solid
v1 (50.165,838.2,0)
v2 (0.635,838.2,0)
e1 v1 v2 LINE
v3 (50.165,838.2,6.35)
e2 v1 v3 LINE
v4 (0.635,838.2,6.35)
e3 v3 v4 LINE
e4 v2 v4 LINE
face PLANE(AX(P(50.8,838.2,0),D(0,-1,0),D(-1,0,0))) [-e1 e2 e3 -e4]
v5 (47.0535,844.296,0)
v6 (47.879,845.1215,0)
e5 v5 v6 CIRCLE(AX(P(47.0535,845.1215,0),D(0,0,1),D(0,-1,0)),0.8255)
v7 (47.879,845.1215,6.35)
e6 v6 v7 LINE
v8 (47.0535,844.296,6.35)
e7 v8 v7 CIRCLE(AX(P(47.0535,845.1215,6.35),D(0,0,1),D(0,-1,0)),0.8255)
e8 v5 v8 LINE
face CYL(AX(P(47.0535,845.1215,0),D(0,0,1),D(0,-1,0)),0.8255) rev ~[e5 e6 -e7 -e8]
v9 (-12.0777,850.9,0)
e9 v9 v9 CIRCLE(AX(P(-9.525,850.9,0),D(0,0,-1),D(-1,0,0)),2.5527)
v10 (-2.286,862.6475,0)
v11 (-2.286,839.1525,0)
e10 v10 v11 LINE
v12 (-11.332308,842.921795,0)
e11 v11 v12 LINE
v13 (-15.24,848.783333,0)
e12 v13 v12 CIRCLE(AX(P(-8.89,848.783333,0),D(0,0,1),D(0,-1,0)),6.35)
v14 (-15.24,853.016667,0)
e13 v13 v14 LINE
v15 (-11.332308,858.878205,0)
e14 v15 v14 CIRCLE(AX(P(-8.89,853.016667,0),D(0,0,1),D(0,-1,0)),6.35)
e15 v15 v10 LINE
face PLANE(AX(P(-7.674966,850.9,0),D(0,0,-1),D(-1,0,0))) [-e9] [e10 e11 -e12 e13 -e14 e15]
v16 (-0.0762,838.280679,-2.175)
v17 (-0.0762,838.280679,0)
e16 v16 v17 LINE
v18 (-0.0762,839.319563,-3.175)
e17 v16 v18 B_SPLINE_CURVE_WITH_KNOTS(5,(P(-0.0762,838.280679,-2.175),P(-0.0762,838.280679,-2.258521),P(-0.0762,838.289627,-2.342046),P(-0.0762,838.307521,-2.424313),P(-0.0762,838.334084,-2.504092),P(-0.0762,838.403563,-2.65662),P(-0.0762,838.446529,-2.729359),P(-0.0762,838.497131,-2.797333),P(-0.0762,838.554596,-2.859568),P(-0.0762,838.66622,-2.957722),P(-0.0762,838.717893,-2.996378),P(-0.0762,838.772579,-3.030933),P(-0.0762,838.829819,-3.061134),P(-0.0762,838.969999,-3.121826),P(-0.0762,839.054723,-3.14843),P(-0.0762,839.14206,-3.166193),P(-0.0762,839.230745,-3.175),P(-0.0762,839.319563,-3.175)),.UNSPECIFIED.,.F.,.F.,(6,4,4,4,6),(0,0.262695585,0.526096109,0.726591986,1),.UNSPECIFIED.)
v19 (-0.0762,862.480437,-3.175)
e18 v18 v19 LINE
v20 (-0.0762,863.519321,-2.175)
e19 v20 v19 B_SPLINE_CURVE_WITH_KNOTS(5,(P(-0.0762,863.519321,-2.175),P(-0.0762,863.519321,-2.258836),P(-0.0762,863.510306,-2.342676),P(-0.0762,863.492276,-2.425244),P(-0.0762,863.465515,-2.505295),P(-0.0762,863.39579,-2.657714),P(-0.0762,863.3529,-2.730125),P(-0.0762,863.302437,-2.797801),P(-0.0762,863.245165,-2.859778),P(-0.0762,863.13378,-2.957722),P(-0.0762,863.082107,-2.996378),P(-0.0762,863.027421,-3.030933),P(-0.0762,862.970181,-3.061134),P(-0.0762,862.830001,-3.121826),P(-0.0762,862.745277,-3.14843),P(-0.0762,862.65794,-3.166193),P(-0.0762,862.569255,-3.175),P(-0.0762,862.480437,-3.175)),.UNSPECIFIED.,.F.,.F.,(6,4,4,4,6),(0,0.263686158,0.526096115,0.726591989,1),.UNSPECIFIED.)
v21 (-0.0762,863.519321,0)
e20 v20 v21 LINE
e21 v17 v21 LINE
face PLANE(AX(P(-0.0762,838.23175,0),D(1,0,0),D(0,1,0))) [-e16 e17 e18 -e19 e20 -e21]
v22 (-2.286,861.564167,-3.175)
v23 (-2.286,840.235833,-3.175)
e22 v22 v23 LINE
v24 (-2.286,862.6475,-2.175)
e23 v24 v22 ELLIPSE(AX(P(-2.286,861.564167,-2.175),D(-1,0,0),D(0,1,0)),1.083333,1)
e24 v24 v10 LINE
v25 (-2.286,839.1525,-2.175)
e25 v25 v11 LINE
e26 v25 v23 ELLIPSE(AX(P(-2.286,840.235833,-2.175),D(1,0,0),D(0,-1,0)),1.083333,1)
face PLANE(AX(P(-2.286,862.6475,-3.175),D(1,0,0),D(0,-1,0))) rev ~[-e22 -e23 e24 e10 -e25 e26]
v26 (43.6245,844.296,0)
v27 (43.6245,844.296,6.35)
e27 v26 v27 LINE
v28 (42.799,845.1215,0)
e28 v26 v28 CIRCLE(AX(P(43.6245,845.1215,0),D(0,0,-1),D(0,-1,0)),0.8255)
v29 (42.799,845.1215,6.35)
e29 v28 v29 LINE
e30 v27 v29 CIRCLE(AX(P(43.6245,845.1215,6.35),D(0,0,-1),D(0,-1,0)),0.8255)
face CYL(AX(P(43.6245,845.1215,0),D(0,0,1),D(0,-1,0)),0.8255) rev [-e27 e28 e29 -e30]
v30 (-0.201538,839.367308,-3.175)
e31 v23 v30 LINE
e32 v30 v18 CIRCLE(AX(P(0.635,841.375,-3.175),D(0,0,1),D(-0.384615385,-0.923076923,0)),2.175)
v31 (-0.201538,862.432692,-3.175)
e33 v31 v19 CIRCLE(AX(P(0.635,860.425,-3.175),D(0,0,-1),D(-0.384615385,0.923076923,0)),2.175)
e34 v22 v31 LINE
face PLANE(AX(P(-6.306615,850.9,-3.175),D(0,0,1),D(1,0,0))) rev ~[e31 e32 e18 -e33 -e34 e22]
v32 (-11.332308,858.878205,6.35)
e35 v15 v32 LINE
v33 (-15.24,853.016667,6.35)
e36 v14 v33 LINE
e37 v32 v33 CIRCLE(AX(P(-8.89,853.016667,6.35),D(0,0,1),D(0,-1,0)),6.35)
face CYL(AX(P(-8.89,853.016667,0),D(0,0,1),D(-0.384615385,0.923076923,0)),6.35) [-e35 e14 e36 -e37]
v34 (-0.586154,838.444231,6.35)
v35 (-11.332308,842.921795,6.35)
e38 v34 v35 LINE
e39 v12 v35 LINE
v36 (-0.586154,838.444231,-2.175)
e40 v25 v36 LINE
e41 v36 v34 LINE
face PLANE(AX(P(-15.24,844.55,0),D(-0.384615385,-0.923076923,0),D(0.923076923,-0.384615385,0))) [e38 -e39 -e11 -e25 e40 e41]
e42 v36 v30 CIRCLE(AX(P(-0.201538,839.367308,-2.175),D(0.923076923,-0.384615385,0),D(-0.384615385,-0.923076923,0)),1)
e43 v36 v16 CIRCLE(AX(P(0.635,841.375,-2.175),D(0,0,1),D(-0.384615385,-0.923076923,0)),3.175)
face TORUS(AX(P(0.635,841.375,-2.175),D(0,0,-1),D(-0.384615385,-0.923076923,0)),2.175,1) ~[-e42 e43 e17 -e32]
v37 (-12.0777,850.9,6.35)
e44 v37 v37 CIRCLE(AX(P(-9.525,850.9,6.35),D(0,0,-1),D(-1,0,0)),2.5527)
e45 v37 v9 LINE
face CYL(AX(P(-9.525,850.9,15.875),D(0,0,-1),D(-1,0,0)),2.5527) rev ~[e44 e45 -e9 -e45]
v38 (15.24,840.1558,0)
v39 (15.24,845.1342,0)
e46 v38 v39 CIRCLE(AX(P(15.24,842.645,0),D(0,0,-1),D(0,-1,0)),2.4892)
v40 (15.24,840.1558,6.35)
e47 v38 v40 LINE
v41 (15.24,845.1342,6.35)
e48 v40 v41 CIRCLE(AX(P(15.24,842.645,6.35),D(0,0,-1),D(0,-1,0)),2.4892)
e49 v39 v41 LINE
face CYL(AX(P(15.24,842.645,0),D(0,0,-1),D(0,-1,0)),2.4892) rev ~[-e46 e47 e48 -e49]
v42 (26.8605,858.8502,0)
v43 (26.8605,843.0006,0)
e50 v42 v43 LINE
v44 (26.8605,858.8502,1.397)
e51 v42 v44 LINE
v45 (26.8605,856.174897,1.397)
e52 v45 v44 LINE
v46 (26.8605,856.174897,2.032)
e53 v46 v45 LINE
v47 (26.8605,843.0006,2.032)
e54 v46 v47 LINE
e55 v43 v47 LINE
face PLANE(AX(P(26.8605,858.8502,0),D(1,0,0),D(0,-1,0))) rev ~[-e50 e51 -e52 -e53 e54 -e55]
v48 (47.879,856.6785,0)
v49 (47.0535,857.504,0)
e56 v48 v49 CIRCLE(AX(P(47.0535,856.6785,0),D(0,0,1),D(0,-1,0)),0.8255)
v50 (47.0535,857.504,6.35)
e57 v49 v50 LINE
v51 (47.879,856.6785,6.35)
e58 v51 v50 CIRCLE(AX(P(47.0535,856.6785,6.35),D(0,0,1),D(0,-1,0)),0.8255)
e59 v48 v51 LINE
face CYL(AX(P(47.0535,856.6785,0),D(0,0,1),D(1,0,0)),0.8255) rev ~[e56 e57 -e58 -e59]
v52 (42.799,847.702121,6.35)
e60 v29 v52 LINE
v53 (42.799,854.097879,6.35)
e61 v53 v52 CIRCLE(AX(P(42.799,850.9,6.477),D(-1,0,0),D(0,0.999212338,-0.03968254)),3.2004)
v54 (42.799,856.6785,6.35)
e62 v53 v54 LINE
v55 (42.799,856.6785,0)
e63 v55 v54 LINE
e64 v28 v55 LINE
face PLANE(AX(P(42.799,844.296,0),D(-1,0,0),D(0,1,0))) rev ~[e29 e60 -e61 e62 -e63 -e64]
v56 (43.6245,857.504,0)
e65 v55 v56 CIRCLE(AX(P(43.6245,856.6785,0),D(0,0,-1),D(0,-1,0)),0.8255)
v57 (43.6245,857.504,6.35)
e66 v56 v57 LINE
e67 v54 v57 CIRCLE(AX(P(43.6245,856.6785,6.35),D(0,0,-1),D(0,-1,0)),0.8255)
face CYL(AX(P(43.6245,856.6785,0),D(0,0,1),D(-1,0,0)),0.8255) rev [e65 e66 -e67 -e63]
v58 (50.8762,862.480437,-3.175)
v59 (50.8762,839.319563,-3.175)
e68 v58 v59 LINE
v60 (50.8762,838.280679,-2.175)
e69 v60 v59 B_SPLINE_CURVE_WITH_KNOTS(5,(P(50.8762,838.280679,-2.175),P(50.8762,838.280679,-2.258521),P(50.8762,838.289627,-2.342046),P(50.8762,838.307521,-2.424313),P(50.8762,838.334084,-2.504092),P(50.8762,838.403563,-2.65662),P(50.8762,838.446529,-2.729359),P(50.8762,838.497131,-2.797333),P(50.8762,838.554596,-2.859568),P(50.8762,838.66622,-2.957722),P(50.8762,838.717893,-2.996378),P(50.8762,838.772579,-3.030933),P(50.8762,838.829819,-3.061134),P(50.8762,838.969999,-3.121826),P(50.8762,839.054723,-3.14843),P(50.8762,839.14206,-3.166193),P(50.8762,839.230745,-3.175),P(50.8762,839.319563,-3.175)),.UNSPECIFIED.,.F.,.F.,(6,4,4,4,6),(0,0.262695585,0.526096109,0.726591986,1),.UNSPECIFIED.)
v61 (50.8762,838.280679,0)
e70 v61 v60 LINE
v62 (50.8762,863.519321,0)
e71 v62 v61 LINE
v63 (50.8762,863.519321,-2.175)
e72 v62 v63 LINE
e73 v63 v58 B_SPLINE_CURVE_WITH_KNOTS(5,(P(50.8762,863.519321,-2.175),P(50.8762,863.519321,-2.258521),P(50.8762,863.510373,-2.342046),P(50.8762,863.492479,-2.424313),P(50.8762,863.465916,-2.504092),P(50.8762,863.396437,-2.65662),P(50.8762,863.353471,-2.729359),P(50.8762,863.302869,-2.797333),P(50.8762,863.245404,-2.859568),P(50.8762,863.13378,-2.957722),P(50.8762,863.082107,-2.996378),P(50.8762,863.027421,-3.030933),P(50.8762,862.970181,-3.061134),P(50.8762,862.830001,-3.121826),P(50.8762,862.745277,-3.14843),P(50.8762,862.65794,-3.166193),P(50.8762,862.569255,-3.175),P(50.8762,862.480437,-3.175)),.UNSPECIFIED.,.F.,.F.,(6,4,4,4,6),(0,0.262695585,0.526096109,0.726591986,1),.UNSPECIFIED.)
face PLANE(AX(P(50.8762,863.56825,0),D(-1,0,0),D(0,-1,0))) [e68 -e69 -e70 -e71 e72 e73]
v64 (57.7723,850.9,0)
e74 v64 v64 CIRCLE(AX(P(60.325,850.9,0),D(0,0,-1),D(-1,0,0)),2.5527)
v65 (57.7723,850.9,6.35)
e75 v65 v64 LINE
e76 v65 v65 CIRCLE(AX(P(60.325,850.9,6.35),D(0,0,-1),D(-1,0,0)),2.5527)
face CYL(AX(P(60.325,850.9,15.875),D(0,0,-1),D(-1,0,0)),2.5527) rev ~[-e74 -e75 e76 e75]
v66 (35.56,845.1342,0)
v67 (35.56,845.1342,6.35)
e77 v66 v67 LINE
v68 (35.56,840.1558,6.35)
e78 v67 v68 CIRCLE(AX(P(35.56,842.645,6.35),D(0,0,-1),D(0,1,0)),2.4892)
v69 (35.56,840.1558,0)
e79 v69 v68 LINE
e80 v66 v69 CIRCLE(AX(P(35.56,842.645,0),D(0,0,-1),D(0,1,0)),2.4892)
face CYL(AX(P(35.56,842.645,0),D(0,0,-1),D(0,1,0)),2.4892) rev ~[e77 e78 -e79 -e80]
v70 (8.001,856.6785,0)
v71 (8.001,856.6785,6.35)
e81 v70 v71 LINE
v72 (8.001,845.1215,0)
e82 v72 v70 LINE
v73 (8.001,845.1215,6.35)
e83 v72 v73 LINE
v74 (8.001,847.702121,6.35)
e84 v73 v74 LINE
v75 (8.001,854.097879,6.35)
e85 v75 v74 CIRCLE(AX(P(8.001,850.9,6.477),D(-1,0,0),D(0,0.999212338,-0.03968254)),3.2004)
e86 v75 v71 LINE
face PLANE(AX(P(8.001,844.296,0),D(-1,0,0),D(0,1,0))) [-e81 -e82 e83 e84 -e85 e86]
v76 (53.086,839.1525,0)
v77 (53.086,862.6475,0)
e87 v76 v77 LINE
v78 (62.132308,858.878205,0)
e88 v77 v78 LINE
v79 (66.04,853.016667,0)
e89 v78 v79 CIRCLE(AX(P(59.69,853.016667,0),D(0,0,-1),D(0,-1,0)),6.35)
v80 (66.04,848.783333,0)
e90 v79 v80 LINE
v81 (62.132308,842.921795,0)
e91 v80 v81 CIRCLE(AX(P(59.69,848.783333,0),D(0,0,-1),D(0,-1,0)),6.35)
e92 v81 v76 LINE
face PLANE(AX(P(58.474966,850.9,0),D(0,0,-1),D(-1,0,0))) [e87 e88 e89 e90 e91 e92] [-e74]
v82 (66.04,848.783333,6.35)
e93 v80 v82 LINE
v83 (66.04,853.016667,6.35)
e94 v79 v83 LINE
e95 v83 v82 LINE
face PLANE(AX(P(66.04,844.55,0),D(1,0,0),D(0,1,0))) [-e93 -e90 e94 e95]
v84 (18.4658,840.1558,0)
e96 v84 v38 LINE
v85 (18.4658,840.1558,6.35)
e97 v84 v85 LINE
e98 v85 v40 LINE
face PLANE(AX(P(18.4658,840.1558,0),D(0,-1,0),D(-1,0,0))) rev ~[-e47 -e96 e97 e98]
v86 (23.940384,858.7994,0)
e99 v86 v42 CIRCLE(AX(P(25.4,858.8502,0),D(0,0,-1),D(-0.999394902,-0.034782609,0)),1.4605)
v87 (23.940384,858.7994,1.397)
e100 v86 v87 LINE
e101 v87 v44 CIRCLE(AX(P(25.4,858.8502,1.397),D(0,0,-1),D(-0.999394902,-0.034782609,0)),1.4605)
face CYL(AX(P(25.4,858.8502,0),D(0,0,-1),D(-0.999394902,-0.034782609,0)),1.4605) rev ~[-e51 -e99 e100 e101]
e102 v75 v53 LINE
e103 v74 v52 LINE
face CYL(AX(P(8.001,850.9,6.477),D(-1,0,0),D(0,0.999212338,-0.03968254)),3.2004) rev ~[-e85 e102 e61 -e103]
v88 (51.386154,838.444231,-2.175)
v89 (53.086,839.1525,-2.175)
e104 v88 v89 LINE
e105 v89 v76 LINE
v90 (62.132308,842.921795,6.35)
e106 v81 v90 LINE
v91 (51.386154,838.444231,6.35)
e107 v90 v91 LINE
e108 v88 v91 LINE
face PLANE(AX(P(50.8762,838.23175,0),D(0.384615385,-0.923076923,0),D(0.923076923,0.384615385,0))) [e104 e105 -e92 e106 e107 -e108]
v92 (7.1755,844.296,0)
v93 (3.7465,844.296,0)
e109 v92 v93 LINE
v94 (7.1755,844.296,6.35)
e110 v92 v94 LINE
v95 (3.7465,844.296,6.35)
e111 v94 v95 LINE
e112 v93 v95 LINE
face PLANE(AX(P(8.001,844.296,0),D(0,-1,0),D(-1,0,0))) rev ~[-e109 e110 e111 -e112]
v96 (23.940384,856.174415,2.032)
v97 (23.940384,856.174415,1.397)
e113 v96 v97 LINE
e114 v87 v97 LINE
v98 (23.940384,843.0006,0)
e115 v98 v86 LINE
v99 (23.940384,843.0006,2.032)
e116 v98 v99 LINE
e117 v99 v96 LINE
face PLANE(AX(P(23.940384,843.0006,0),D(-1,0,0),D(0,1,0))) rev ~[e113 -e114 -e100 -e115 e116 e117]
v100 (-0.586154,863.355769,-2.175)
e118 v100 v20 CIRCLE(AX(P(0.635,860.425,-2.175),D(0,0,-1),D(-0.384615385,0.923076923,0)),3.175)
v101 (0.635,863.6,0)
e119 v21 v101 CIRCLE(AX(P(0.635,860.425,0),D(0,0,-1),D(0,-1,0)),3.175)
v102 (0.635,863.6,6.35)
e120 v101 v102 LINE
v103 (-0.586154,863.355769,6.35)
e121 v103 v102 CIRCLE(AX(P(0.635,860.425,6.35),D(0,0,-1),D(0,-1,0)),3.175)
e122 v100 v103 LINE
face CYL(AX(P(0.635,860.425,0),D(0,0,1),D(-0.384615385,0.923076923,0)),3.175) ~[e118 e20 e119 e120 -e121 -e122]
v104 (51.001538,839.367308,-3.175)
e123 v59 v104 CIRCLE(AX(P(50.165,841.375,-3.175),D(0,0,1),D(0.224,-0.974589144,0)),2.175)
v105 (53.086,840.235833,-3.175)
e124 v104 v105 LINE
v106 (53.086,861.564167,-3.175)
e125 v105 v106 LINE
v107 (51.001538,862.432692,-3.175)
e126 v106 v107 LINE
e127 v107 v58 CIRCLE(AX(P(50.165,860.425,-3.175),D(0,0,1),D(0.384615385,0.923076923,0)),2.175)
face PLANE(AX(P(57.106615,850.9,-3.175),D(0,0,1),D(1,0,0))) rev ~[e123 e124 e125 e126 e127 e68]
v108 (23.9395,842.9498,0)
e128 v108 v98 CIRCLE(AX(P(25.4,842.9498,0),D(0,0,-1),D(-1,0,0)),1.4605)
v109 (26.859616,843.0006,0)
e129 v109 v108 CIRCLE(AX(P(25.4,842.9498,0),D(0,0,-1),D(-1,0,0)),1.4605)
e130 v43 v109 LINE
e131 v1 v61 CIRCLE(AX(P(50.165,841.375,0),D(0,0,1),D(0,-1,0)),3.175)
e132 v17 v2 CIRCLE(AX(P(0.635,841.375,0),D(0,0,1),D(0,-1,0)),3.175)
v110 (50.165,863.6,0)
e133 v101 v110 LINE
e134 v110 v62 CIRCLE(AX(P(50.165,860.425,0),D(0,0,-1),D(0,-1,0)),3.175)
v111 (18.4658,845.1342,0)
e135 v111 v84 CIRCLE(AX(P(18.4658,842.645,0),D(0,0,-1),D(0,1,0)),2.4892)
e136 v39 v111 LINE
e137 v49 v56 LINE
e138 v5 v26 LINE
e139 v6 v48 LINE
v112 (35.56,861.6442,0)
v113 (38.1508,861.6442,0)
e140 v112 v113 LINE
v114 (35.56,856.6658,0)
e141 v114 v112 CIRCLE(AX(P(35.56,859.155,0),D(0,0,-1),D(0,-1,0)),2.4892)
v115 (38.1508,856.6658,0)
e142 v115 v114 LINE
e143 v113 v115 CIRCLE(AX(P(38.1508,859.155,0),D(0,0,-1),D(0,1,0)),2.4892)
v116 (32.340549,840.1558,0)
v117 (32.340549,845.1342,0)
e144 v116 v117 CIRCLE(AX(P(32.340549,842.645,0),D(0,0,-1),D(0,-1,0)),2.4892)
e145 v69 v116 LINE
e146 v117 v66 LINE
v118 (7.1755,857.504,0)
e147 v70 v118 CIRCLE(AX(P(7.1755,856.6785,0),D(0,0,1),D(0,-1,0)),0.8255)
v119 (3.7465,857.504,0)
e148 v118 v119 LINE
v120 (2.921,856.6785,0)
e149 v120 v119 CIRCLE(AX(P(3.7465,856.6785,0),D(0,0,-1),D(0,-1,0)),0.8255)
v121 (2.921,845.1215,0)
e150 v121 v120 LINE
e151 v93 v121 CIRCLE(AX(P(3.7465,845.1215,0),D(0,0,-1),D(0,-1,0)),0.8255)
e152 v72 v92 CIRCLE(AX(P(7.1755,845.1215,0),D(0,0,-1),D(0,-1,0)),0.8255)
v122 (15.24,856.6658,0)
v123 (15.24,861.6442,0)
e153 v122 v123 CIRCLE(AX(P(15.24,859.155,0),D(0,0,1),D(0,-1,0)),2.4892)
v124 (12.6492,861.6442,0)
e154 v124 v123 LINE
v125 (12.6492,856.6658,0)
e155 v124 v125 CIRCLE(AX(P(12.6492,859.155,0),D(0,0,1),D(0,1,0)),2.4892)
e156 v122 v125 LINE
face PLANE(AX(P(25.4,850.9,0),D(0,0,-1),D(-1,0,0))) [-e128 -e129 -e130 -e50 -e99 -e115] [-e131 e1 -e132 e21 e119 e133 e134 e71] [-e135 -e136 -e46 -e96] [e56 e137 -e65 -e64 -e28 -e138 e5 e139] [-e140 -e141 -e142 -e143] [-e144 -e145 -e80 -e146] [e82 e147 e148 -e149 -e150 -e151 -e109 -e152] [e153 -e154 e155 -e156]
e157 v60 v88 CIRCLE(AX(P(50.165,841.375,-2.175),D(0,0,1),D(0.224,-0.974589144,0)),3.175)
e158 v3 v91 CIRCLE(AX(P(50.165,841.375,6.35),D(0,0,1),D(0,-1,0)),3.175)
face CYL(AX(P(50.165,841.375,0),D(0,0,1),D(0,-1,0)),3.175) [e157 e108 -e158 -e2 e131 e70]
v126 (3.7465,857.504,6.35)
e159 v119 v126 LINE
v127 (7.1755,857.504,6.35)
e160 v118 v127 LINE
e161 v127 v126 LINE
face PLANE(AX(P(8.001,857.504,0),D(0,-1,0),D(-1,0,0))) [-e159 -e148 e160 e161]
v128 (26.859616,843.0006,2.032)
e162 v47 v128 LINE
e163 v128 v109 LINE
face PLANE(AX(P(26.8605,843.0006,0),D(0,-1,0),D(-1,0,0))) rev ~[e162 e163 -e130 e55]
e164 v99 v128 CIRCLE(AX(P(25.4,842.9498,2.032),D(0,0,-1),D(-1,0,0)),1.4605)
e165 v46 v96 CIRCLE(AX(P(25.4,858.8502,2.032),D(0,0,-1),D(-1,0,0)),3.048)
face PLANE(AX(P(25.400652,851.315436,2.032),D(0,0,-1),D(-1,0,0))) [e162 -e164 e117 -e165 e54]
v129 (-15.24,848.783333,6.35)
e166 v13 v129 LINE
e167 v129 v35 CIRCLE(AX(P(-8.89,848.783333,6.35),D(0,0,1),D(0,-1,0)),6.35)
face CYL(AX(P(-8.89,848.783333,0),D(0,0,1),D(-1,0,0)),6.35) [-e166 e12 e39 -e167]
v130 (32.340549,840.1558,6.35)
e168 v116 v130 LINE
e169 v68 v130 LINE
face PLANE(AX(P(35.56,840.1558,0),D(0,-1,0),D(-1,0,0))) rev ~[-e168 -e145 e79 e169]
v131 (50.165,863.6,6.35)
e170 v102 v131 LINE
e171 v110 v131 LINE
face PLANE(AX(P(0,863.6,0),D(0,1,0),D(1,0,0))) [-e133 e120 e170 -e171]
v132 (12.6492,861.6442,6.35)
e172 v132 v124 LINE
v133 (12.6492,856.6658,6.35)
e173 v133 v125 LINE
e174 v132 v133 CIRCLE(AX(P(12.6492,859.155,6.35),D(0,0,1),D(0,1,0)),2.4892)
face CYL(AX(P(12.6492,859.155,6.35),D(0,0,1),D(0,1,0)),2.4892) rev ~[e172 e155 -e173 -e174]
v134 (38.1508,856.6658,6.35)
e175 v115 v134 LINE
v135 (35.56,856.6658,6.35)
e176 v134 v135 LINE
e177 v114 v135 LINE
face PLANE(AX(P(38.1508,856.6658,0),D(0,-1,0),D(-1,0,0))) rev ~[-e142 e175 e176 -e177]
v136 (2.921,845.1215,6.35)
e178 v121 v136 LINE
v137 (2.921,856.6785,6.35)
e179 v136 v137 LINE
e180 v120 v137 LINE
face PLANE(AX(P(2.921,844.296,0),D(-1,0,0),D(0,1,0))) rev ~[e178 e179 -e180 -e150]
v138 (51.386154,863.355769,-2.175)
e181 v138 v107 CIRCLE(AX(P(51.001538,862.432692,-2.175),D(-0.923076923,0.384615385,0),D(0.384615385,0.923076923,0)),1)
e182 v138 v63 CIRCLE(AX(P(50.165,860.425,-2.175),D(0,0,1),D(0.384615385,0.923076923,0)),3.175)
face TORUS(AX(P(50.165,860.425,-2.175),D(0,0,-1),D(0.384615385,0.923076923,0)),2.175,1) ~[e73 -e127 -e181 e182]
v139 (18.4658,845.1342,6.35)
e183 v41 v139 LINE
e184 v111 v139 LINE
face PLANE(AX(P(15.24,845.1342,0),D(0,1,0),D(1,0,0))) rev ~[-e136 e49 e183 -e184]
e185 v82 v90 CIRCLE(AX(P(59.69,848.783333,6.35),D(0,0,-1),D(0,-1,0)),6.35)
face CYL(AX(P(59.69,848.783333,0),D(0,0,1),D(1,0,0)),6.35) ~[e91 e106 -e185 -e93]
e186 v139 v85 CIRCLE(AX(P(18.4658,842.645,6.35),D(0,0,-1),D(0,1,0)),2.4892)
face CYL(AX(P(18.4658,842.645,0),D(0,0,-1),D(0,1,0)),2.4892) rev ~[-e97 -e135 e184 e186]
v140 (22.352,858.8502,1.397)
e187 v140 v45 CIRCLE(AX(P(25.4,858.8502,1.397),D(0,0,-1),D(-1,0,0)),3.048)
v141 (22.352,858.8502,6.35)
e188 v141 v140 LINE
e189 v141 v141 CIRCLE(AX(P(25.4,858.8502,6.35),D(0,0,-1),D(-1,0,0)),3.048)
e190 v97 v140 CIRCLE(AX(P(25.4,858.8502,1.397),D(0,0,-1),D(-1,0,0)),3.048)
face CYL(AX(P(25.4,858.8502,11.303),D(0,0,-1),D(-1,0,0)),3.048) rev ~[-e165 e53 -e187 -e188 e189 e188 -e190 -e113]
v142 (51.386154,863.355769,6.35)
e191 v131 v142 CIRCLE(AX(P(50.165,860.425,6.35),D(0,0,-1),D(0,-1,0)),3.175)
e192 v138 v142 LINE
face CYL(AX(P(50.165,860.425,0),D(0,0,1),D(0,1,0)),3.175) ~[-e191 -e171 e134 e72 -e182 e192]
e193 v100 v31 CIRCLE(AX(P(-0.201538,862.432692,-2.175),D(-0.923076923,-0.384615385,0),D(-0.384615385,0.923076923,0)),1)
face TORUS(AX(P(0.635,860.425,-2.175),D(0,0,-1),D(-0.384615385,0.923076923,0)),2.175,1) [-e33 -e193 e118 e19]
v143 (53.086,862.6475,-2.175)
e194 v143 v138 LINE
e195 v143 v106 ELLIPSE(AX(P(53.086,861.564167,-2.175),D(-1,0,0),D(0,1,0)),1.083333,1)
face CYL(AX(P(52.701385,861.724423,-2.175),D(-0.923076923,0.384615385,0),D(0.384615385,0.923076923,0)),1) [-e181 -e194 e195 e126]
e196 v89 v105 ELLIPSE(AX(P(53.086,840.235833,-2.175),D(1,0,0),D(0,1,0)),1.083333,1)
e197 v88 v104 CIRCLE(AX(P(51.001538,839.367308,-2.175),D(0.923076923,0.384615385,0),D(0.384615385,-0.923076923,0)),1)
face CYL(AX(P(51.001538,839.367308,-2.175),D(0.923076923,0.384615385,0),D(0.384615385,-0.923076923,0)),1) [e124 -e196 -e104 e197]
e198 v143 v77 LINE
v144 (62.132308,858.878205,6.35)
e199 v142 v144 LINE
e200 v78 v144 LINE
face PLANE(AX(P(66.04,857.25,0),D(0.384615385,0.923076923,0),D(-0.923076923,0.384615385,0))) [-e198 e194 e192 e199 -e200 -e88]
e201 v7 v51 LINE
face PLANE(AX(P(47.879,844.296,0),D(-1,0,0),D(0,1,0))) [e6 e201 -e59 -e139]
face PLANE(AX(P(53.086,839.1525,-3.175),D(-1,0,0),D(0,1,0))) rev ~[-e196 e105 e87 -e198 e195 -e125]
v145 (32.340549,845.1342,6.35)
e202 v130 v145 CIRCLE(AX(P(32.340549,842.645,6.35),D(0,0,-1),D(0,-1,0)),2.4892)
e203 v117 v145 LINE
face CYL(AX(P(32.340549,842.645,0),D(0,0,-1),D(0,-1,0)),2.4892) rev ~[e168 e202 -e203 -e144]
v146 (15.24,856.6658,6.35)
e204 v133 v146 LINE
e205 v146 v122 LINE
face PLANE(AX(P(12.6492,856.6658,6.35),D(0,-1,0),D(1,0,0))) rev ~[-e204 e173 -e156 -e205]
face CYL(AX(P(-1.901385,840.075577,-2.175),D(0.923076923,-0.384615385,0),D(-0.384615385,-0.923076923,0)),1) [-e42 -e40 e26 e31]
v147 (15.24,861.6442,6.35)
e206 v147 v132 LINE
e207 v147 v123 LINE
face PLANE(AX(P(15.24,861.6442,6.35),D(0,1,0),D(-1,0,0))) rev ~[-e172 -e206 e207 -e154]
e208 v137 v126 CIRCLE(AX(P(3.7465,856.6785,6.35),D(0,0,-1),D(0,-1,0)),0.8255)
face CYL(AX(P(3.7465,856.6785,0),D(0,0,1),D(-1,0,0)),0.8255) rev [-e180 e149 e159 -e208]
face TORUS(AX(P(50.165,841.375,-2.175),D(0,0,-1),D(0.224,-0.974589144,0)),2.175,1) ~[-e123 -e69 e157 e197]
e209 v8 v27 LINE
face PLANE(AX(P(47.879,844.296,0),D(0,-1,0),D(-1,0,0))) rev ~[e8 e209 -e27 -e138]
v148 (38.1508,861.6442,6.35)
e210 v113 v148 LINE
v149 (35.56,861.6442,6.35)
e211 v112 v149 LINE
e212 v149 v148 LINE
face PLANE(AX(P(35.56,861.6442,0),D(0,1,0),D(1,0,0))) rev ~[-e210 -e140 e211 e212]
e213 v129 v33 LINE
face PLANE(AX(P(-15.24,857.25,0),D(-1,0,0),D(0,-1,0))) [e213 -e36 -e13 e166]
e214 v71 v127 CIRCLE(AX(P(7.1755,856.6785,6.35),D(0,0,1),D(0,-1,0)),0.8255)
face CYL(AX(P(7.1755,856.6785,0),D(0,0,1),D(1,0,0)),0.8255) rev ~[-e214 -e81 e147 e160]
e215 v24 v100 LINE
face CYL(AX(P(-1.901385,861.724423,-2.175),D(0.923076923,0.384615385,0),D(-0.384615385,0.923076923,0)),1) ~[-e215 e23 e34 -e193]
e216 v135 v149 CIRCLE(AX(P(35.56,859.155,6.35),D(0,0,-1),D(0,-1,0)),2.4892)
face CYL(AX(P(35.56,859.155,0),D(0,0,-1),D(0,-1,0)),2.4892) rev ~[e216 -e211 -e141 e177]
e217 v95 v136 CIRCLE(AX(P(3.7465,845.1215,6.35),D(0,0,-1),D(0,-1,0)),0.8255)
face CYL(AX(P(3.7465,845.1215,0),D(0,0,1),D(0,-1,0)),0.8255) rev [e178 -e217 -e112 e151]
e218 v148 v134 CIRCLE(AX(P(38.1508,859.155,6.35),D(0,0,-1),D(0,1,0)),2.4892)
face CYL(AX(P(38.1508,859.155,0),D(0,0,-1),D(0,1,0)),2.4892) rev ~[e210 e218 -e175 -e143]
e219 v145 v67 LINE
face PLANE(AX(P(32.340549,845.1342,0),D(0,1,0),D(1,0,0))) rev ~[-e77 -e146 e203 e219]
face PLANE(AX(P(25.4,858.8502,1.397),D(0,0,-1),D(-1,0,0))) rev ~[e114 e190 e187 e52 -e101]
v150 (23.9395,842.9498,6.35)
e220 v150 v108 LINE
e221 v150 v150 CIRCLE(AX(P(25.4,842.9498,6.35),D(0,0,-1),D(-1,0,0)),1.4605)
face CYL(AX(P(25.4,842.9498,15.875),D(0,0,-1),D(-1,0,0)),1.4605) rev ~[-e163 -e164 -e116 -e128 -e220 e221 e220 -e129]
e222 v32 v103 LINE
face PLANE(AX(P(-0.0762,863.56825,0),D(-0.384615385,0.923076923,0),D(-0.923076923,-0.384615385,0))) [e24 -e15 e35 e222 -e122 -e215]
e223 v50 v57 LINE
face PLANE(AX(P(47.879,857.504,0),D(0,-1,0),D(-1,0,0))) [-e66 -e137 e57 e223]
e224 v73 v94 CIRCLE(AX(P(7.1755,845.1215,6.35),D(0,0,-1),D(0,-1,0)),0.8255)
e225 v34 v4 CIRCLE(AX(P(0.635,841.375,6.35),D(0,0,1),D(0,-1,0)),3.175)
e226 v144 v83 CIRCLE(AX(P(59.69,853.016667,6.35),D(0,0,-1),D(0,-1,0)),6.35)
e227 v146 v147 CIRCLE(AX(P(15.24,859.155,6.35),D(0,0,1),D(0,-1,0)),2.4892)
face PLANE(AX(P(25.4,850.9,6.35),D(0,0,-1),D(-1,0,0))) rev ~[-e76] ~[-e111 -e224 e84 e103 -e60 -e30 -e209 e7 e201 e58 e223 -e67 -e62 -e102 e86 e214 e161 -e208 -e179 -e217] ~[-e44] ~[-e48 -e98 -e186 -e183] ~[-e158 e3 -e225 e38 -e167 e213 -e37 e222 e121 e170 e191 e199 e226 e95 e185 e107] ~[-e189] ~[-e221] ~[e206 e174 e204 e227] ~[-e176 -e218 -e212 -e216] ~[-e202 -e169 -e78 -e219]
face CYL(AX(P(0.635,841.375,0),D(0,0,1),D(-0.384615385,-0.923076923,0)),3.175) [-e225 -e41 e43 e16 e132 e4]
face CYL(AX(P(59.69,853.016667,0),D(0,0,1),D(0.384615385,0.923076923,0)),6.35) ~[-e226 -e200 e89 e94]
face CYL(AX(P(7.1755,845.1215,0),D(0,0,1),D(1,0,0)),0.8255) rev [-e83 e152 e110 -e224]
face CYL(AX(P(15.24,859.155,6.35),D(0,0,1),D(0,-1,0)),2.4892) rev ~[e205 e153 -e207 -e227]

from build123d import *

# Parameters (mm, degrees)
BOSS_EXTRUDE1_DEPTH            = 6.35
BOSS_EXTRUDE2_DEPTH            = 3.175
BOSS_EXTRUDE3_DEPTH            = 3.175
CUT_EXTRUDE1_DEPTH             = 3.175
SKETCH5_W                      = 5.08
SKETCH5_H                      = 13.208
CUT_EXTRUDE2_DEPTH             = 7.35
SKETCH6_W                      = 5.08
SKETCH6_H                      = 13.208
CUT_EXTRUDE3_DEPTH             = 7.35
CUT_EXTRUDE4_REACH             = 60.039
CUT_EXTRUDE5_DEPTH             = 3.175
CUT_EXTRUDE6_DEPTH             = 7.35
CUT_EXTRUDE7_DEPTH             = 7.35
CUT_EXTRUDE8_DEPTH             = 7.35
CUT_EXTRUDE9_DEPTH             = 10.525
CUT_EXTRUDE10_DEPTH            = 2.032
F_12_CLEARANCE_HOLE1_D         = 6.096
F_12_CLEARANCE_HOLE1_DEPTH     = 4.953
F_3_CLEARANCE_HOLE1_D          = 2.921
F_3_CLEARANCE_HOLE1_DEPTH      = 9.525
F_7_0_201_DIAMETER_HOLE1_D     = 5.1054
F_7_0_201_DIAMETER_HOLE1_DEPTH = 9.525
FILLET1_R                      = 3.175
FILLET2_R                      = 0.8255
FILLET3_R                      = 1
FILLET4_R                      = 6.35


with BuildPart() as part:
    # Sketch1 → Boss-Extrude1 (new body)
    with BuildSketch(Plane(origin=(0, 0, 0), x_dir=(-1, 0, 0), z_dir=(0, 0, -1))):
        Polygon((-50.8, 863.6), (-66.04, 857.25), (-66.04, 844.55), (-50.8, 838.2), (0, 838.2), (15.24, 844.55), (15.24, 857.25), (0, 863.6), align=None)
    extrude(amount=-BOSS_EXTRUDE1_DEPTH)

    # Sketch2 → Boss-Extrude2 (add)
    with BuildSketch(Plane(origin=(0, 0, 0), x_dir=(-1, 0, 0), z_dir=(0, 0, -1))):
        Polygon((-50.8762, 838.23175), (-66.04, 844.55), (-66.04, 857.25), (-50.8762, 863.56825), align=None)
    extrude(amount=BOSS_EXTRUDE2_DEPTH)

    # Sketch3 → Boss-Extrude3 (add)
    with BuildSketch(Plane(origin=(0, 0, 0), x_dir=(-1, 0, 0), z_dir=(0, 0, -1))):
        Polygon((0.0762, 863.56825), (15.24, 857.25), (15.24, 844.55), (0.0762, 838.23175), align=None)
    extrude(amount=BOSS_EXTRUDE3_DEPTH)

    # Sketch4 → Cut-Extrude1 (cut)
    with BuildSketch(Plane(origin=(0, 0, -3.175), x_dir=(-1, 0, 0), z_dir=(0, 0, -1))):
        Polygon((2.286, 862.6475), (2.286, 839.1525), (15.24, 844.55), (15.24, 857.25), align=None)
    extrude(amount=-CUT_EXTRUDE1_DEPTH, mode=Mode.SUBTRACT)

    # Sketch5 → Cut-Extrude2 (cut, through all)
    with BuildSketch(Plane(origin=(0, 0, 0), x_dir=(-1, 0, 0), z_dir=(0, 0, -1))):
        with Locations((-5.461, 850.9)):
            Rectangle(SKETCH5_W, SKETCH5_H)
    extrude(amount=-CUT_EXTRUDE2_DEPTH, mode=Mode.SUBTRACT)

    # Sketch6 → Cut-Extrude3 (cut, through all)
    with BuildSketch(Plane(origin=(0, 0, 0), x_dir=(-1, 0, 0), z_dir=(0, 0, -1))):
        with Locations((-45.339, 850.9)):
            Rectangle(SKETCH6_W, SKETCH6_H)
    extrude(amount=-CUT_EXTRUDE3_DEPTH, mode=Mode.SUBTRACT)

    # Sketch7 → Cut-Extrude4 (cut, up to next)
    with BuildSketch(Plane.ZY.offset(-8.001), mode=Mode.PRIVATE) as cut_extrude4_sk1:
        with BuildLine():
            Line((6.35, 847.702120834), (6.35, 854.097879166))
            ThreePointArc((6.35, 854.097879166), (3.2766, 850.9), (6.35, 847.702120834))
        make_face()
    cut_extrude4_tool1 = extrude(cut_extrude4_sk1.sketch, amount=-CUT_EXTRUDE4_REACH, mode=Mode.PRIVATE) & part.part
    add(cut_extrude4_tool1.solids().sort_by_distance((8.001, 850.9, 5.049826))[0], mode=Mode.SUBTRACT)

    # Sketch8 → Cut-Extrude5 (cut)
    with BuildSketch(Plane(origin=(0, 0, -3.175), x_dir=(-1, 0, 0), z_dir=(0, 0, -1))):
        Polygon((-53.086, 839.1525), (-53.086, 862.6475), (-66.04, 857.25), (-66.04, 844.55), align=None)
    extrude(amount=-CUT_EXTRUDE5_DEPTH, mode=Mode.SUBTRACT)

    # Sketch9 → Cut-Extrude6 (cut, through all)
    with BuildSketch(Plane(origin=(0, 0, 0), x_dir=(-1, 0, 0), z_dir=(0, 0, -1))):
        with BuildLine():
            Line((-35.56, 840.1558), (-32.340549132, 840.1558))
            ThreePointArc((-32.340549132, 840.1558), (-29.851349132, 842.645), (-32.340549132, 845.1342))
            Line((-32.340549132, 845.1342), (-35.56, 845.1342))
            ThreePointArc((-35.56, 845.1342), (-38.0492, 842.645), (-35.56, 840.1558))
        make_face()
    extrude(amount=-CUT_EXTRUDE6_DEPTH, mode=Mode.SUBTRACT)

    # Sketch10 → Cut-Extrude7 (cut, through all)
    with BuildSketch(Plane(origin=(0, 0, 0), x_dir=(-1, 0, 0), z_dir=(0, 0, -1))):
        with BuildLine():
            Line((-35.56, 861.6442), (-38.1508, 861.6442))
            ThreePointArc((-38.1508, 861.6442), (-40.64, 859.155), (-38.1508, 856.6658))
            Line((-38.1508, 856.6658), (-35.56, 856.6658))
            ThreePointArc((-35.56, 856.6658), (-33.0708, 859.155), (-35.56, 861.6442))
        make_face()
    extrude(amount=-CUT_EXTRUDE7_DEPTH, mode=Mode.SUBTRACT)

    # Sketch11 → Cut-Extrude8 (cut, through all)
    with BuildSketch(Plane(origin=(0, 0, 0), x_dir=(-1, 0, 0), z_dir=(0, 0, -1))):
        with BuildLine():
            Line((-15.24, 845.1342), (-18.4658, 845.1342))
            ThreePointArc((-18.4658, 845.1342), (-20.955, 842.645), (-18.4658, 840.1558))
            Line((-18.4658, 840.1558), (-15.24, 840.1558))
            ThreePointArc((-15.24, 840.1558), (-12.7508, 842.645), (-15.24, 845.1342))
        make_face()
    extrude(amount=-CUT_EXTRUDE8_DEPTH, mode=Mode.SUBTRACT)

    # Sketch12 → Cut-Extrude9 (cut, through all)
    with BuildSketch(Plane.XY.offset(6.35)):
        with BuildLine():
            Line((15.24, 861.6442), (12.6492, 861.6442))
            ThreePointArc((12.6492, 861.6442), (10.16, 859.155), (12.6492, 856.6658))
            Line((12.6492, 856.6658), (15.24, 856.6658))
            ThreePointArc((15.24, 856.6658), (17.7292, 859.155), (15.24, 861.6442))
        make_face()
    extrude(amount=-CUT_EXTRUDE9_DEPTH, mode=Mode.SUBTRACT)

    # Sketch13 → Cut-Extrude10 (cut)
    with BuildSketch(Plane(origin=(0, 0, 0), x_dir=(-1, 0, 0), z_dir=(0, 0, -1))):
        with BuildLine():
            Line((-26.8605, 843.0006), (-23.940383746, 843.0006))
            Line((-23.940383746, 843.0006), (-23.940383746, 858.7994))
            ThreePointArc((-23.940383746, 858.7994), (-25.374596157, 860.310479047), (-26.8605, 858.8502))
            Line((-26.8605, 858.8502), (-26.8605, 843.0006))
        make_face()
    extrude(amount=-CUT_EXTRUDE10_DEPTH, mode=Mode.SUBTRACT)

    # #12 Clearance Hole1
    with Locations(Plane.XY.offset(6.35)):
        with Locations((25.4, 858.8502)):
            Hole(F_12_CLEARANCE_HOLE1_D / 2, depth=F_12_CLEARANCE_HOLE1_DEPTH)

    # #3 Clearance Hole1
    with Locations(Plane.XY.offset(6.35)):
        with Locations((25.4, 842.9498)):
            Hole(F_3_CLEARANCE_HOLE1_D / 2, depth=F_3_CLEARANCE_HOLE1_DEPTH)

    # #7 (0.201) Diameter Hole1
    with Locations(Plane.XY.offset(6.35)):
        with Locations((-9.525, 850.9), (60.325, 850.9)):
            Hole(F_7_0_201_DIAMETER_HOLE1_D / 2, depth=F_7_0_201_DIAMETER_HOLE1_DEPTH)

    # Fillet1
    fillet1_edges = [part.edges().sort_by_distance(p)[0] for p in [
        (0, 838.2, 3.175),
        (50.8, 838.2, 3.175),
        (50.8, 863.6, 3.175),
        (0, 863.6, 3.175),
    ]]
    fillet(fillet1_edges, radius=FILLET1_R)

    # Fillet2
    fillet2_edges = [part.edges().sort_by_distance(p)[0] for p in [
        (8.001, 857.504, 3.175),
        (2.921, 857.504, 3.175),
        (2.921, 844.296, 3.175),
        (8.001, 844.296, 3.175),
        (47.879, 857.504, 3.175),
        (42.799, 857.504, 3.175),
        (42.799, 844.296, 3.175),
        (47.879, 844.296, 3.175),
    ]]
    fillet(fillet2_edges, radius=FILLET2_R)

    # Fillet3
    fillet3_edges = [part.edges().sort_by_distance(p)[0] for p in [
        (52.236076923, 838.798365385, -3.175),
        (-1.436076923, 838.798365385, -3.175),
        (-0.334631427, 863.448316043, -3.175),
        (-0.334631427, 838.351683957, -3.175),
        (52.236076923, 863.001634615, -3.175),
        (51.134631427, 863.448316043, -3.175),
        (51.134631427, 838.351683957, -3.175),
        (-1.436076923, 863.001634615, -3.175),
    ]]
    fillet(fillet3_edges, radius=FILLET3_R)

    # Fillet4
    fillet4_edges = [part.edges().sort_by_distance(p)[0] for p in [
        (-15.24, 857.25, 3.175),
        (-15.24, 844.55, 3.175),
        (66.04, 844.55, 3.175),
        (66.04, 857.25, 3.175),
    ]]
    fillet(fillet4_edges, radius=FILLET4_R)


solid = part.part
